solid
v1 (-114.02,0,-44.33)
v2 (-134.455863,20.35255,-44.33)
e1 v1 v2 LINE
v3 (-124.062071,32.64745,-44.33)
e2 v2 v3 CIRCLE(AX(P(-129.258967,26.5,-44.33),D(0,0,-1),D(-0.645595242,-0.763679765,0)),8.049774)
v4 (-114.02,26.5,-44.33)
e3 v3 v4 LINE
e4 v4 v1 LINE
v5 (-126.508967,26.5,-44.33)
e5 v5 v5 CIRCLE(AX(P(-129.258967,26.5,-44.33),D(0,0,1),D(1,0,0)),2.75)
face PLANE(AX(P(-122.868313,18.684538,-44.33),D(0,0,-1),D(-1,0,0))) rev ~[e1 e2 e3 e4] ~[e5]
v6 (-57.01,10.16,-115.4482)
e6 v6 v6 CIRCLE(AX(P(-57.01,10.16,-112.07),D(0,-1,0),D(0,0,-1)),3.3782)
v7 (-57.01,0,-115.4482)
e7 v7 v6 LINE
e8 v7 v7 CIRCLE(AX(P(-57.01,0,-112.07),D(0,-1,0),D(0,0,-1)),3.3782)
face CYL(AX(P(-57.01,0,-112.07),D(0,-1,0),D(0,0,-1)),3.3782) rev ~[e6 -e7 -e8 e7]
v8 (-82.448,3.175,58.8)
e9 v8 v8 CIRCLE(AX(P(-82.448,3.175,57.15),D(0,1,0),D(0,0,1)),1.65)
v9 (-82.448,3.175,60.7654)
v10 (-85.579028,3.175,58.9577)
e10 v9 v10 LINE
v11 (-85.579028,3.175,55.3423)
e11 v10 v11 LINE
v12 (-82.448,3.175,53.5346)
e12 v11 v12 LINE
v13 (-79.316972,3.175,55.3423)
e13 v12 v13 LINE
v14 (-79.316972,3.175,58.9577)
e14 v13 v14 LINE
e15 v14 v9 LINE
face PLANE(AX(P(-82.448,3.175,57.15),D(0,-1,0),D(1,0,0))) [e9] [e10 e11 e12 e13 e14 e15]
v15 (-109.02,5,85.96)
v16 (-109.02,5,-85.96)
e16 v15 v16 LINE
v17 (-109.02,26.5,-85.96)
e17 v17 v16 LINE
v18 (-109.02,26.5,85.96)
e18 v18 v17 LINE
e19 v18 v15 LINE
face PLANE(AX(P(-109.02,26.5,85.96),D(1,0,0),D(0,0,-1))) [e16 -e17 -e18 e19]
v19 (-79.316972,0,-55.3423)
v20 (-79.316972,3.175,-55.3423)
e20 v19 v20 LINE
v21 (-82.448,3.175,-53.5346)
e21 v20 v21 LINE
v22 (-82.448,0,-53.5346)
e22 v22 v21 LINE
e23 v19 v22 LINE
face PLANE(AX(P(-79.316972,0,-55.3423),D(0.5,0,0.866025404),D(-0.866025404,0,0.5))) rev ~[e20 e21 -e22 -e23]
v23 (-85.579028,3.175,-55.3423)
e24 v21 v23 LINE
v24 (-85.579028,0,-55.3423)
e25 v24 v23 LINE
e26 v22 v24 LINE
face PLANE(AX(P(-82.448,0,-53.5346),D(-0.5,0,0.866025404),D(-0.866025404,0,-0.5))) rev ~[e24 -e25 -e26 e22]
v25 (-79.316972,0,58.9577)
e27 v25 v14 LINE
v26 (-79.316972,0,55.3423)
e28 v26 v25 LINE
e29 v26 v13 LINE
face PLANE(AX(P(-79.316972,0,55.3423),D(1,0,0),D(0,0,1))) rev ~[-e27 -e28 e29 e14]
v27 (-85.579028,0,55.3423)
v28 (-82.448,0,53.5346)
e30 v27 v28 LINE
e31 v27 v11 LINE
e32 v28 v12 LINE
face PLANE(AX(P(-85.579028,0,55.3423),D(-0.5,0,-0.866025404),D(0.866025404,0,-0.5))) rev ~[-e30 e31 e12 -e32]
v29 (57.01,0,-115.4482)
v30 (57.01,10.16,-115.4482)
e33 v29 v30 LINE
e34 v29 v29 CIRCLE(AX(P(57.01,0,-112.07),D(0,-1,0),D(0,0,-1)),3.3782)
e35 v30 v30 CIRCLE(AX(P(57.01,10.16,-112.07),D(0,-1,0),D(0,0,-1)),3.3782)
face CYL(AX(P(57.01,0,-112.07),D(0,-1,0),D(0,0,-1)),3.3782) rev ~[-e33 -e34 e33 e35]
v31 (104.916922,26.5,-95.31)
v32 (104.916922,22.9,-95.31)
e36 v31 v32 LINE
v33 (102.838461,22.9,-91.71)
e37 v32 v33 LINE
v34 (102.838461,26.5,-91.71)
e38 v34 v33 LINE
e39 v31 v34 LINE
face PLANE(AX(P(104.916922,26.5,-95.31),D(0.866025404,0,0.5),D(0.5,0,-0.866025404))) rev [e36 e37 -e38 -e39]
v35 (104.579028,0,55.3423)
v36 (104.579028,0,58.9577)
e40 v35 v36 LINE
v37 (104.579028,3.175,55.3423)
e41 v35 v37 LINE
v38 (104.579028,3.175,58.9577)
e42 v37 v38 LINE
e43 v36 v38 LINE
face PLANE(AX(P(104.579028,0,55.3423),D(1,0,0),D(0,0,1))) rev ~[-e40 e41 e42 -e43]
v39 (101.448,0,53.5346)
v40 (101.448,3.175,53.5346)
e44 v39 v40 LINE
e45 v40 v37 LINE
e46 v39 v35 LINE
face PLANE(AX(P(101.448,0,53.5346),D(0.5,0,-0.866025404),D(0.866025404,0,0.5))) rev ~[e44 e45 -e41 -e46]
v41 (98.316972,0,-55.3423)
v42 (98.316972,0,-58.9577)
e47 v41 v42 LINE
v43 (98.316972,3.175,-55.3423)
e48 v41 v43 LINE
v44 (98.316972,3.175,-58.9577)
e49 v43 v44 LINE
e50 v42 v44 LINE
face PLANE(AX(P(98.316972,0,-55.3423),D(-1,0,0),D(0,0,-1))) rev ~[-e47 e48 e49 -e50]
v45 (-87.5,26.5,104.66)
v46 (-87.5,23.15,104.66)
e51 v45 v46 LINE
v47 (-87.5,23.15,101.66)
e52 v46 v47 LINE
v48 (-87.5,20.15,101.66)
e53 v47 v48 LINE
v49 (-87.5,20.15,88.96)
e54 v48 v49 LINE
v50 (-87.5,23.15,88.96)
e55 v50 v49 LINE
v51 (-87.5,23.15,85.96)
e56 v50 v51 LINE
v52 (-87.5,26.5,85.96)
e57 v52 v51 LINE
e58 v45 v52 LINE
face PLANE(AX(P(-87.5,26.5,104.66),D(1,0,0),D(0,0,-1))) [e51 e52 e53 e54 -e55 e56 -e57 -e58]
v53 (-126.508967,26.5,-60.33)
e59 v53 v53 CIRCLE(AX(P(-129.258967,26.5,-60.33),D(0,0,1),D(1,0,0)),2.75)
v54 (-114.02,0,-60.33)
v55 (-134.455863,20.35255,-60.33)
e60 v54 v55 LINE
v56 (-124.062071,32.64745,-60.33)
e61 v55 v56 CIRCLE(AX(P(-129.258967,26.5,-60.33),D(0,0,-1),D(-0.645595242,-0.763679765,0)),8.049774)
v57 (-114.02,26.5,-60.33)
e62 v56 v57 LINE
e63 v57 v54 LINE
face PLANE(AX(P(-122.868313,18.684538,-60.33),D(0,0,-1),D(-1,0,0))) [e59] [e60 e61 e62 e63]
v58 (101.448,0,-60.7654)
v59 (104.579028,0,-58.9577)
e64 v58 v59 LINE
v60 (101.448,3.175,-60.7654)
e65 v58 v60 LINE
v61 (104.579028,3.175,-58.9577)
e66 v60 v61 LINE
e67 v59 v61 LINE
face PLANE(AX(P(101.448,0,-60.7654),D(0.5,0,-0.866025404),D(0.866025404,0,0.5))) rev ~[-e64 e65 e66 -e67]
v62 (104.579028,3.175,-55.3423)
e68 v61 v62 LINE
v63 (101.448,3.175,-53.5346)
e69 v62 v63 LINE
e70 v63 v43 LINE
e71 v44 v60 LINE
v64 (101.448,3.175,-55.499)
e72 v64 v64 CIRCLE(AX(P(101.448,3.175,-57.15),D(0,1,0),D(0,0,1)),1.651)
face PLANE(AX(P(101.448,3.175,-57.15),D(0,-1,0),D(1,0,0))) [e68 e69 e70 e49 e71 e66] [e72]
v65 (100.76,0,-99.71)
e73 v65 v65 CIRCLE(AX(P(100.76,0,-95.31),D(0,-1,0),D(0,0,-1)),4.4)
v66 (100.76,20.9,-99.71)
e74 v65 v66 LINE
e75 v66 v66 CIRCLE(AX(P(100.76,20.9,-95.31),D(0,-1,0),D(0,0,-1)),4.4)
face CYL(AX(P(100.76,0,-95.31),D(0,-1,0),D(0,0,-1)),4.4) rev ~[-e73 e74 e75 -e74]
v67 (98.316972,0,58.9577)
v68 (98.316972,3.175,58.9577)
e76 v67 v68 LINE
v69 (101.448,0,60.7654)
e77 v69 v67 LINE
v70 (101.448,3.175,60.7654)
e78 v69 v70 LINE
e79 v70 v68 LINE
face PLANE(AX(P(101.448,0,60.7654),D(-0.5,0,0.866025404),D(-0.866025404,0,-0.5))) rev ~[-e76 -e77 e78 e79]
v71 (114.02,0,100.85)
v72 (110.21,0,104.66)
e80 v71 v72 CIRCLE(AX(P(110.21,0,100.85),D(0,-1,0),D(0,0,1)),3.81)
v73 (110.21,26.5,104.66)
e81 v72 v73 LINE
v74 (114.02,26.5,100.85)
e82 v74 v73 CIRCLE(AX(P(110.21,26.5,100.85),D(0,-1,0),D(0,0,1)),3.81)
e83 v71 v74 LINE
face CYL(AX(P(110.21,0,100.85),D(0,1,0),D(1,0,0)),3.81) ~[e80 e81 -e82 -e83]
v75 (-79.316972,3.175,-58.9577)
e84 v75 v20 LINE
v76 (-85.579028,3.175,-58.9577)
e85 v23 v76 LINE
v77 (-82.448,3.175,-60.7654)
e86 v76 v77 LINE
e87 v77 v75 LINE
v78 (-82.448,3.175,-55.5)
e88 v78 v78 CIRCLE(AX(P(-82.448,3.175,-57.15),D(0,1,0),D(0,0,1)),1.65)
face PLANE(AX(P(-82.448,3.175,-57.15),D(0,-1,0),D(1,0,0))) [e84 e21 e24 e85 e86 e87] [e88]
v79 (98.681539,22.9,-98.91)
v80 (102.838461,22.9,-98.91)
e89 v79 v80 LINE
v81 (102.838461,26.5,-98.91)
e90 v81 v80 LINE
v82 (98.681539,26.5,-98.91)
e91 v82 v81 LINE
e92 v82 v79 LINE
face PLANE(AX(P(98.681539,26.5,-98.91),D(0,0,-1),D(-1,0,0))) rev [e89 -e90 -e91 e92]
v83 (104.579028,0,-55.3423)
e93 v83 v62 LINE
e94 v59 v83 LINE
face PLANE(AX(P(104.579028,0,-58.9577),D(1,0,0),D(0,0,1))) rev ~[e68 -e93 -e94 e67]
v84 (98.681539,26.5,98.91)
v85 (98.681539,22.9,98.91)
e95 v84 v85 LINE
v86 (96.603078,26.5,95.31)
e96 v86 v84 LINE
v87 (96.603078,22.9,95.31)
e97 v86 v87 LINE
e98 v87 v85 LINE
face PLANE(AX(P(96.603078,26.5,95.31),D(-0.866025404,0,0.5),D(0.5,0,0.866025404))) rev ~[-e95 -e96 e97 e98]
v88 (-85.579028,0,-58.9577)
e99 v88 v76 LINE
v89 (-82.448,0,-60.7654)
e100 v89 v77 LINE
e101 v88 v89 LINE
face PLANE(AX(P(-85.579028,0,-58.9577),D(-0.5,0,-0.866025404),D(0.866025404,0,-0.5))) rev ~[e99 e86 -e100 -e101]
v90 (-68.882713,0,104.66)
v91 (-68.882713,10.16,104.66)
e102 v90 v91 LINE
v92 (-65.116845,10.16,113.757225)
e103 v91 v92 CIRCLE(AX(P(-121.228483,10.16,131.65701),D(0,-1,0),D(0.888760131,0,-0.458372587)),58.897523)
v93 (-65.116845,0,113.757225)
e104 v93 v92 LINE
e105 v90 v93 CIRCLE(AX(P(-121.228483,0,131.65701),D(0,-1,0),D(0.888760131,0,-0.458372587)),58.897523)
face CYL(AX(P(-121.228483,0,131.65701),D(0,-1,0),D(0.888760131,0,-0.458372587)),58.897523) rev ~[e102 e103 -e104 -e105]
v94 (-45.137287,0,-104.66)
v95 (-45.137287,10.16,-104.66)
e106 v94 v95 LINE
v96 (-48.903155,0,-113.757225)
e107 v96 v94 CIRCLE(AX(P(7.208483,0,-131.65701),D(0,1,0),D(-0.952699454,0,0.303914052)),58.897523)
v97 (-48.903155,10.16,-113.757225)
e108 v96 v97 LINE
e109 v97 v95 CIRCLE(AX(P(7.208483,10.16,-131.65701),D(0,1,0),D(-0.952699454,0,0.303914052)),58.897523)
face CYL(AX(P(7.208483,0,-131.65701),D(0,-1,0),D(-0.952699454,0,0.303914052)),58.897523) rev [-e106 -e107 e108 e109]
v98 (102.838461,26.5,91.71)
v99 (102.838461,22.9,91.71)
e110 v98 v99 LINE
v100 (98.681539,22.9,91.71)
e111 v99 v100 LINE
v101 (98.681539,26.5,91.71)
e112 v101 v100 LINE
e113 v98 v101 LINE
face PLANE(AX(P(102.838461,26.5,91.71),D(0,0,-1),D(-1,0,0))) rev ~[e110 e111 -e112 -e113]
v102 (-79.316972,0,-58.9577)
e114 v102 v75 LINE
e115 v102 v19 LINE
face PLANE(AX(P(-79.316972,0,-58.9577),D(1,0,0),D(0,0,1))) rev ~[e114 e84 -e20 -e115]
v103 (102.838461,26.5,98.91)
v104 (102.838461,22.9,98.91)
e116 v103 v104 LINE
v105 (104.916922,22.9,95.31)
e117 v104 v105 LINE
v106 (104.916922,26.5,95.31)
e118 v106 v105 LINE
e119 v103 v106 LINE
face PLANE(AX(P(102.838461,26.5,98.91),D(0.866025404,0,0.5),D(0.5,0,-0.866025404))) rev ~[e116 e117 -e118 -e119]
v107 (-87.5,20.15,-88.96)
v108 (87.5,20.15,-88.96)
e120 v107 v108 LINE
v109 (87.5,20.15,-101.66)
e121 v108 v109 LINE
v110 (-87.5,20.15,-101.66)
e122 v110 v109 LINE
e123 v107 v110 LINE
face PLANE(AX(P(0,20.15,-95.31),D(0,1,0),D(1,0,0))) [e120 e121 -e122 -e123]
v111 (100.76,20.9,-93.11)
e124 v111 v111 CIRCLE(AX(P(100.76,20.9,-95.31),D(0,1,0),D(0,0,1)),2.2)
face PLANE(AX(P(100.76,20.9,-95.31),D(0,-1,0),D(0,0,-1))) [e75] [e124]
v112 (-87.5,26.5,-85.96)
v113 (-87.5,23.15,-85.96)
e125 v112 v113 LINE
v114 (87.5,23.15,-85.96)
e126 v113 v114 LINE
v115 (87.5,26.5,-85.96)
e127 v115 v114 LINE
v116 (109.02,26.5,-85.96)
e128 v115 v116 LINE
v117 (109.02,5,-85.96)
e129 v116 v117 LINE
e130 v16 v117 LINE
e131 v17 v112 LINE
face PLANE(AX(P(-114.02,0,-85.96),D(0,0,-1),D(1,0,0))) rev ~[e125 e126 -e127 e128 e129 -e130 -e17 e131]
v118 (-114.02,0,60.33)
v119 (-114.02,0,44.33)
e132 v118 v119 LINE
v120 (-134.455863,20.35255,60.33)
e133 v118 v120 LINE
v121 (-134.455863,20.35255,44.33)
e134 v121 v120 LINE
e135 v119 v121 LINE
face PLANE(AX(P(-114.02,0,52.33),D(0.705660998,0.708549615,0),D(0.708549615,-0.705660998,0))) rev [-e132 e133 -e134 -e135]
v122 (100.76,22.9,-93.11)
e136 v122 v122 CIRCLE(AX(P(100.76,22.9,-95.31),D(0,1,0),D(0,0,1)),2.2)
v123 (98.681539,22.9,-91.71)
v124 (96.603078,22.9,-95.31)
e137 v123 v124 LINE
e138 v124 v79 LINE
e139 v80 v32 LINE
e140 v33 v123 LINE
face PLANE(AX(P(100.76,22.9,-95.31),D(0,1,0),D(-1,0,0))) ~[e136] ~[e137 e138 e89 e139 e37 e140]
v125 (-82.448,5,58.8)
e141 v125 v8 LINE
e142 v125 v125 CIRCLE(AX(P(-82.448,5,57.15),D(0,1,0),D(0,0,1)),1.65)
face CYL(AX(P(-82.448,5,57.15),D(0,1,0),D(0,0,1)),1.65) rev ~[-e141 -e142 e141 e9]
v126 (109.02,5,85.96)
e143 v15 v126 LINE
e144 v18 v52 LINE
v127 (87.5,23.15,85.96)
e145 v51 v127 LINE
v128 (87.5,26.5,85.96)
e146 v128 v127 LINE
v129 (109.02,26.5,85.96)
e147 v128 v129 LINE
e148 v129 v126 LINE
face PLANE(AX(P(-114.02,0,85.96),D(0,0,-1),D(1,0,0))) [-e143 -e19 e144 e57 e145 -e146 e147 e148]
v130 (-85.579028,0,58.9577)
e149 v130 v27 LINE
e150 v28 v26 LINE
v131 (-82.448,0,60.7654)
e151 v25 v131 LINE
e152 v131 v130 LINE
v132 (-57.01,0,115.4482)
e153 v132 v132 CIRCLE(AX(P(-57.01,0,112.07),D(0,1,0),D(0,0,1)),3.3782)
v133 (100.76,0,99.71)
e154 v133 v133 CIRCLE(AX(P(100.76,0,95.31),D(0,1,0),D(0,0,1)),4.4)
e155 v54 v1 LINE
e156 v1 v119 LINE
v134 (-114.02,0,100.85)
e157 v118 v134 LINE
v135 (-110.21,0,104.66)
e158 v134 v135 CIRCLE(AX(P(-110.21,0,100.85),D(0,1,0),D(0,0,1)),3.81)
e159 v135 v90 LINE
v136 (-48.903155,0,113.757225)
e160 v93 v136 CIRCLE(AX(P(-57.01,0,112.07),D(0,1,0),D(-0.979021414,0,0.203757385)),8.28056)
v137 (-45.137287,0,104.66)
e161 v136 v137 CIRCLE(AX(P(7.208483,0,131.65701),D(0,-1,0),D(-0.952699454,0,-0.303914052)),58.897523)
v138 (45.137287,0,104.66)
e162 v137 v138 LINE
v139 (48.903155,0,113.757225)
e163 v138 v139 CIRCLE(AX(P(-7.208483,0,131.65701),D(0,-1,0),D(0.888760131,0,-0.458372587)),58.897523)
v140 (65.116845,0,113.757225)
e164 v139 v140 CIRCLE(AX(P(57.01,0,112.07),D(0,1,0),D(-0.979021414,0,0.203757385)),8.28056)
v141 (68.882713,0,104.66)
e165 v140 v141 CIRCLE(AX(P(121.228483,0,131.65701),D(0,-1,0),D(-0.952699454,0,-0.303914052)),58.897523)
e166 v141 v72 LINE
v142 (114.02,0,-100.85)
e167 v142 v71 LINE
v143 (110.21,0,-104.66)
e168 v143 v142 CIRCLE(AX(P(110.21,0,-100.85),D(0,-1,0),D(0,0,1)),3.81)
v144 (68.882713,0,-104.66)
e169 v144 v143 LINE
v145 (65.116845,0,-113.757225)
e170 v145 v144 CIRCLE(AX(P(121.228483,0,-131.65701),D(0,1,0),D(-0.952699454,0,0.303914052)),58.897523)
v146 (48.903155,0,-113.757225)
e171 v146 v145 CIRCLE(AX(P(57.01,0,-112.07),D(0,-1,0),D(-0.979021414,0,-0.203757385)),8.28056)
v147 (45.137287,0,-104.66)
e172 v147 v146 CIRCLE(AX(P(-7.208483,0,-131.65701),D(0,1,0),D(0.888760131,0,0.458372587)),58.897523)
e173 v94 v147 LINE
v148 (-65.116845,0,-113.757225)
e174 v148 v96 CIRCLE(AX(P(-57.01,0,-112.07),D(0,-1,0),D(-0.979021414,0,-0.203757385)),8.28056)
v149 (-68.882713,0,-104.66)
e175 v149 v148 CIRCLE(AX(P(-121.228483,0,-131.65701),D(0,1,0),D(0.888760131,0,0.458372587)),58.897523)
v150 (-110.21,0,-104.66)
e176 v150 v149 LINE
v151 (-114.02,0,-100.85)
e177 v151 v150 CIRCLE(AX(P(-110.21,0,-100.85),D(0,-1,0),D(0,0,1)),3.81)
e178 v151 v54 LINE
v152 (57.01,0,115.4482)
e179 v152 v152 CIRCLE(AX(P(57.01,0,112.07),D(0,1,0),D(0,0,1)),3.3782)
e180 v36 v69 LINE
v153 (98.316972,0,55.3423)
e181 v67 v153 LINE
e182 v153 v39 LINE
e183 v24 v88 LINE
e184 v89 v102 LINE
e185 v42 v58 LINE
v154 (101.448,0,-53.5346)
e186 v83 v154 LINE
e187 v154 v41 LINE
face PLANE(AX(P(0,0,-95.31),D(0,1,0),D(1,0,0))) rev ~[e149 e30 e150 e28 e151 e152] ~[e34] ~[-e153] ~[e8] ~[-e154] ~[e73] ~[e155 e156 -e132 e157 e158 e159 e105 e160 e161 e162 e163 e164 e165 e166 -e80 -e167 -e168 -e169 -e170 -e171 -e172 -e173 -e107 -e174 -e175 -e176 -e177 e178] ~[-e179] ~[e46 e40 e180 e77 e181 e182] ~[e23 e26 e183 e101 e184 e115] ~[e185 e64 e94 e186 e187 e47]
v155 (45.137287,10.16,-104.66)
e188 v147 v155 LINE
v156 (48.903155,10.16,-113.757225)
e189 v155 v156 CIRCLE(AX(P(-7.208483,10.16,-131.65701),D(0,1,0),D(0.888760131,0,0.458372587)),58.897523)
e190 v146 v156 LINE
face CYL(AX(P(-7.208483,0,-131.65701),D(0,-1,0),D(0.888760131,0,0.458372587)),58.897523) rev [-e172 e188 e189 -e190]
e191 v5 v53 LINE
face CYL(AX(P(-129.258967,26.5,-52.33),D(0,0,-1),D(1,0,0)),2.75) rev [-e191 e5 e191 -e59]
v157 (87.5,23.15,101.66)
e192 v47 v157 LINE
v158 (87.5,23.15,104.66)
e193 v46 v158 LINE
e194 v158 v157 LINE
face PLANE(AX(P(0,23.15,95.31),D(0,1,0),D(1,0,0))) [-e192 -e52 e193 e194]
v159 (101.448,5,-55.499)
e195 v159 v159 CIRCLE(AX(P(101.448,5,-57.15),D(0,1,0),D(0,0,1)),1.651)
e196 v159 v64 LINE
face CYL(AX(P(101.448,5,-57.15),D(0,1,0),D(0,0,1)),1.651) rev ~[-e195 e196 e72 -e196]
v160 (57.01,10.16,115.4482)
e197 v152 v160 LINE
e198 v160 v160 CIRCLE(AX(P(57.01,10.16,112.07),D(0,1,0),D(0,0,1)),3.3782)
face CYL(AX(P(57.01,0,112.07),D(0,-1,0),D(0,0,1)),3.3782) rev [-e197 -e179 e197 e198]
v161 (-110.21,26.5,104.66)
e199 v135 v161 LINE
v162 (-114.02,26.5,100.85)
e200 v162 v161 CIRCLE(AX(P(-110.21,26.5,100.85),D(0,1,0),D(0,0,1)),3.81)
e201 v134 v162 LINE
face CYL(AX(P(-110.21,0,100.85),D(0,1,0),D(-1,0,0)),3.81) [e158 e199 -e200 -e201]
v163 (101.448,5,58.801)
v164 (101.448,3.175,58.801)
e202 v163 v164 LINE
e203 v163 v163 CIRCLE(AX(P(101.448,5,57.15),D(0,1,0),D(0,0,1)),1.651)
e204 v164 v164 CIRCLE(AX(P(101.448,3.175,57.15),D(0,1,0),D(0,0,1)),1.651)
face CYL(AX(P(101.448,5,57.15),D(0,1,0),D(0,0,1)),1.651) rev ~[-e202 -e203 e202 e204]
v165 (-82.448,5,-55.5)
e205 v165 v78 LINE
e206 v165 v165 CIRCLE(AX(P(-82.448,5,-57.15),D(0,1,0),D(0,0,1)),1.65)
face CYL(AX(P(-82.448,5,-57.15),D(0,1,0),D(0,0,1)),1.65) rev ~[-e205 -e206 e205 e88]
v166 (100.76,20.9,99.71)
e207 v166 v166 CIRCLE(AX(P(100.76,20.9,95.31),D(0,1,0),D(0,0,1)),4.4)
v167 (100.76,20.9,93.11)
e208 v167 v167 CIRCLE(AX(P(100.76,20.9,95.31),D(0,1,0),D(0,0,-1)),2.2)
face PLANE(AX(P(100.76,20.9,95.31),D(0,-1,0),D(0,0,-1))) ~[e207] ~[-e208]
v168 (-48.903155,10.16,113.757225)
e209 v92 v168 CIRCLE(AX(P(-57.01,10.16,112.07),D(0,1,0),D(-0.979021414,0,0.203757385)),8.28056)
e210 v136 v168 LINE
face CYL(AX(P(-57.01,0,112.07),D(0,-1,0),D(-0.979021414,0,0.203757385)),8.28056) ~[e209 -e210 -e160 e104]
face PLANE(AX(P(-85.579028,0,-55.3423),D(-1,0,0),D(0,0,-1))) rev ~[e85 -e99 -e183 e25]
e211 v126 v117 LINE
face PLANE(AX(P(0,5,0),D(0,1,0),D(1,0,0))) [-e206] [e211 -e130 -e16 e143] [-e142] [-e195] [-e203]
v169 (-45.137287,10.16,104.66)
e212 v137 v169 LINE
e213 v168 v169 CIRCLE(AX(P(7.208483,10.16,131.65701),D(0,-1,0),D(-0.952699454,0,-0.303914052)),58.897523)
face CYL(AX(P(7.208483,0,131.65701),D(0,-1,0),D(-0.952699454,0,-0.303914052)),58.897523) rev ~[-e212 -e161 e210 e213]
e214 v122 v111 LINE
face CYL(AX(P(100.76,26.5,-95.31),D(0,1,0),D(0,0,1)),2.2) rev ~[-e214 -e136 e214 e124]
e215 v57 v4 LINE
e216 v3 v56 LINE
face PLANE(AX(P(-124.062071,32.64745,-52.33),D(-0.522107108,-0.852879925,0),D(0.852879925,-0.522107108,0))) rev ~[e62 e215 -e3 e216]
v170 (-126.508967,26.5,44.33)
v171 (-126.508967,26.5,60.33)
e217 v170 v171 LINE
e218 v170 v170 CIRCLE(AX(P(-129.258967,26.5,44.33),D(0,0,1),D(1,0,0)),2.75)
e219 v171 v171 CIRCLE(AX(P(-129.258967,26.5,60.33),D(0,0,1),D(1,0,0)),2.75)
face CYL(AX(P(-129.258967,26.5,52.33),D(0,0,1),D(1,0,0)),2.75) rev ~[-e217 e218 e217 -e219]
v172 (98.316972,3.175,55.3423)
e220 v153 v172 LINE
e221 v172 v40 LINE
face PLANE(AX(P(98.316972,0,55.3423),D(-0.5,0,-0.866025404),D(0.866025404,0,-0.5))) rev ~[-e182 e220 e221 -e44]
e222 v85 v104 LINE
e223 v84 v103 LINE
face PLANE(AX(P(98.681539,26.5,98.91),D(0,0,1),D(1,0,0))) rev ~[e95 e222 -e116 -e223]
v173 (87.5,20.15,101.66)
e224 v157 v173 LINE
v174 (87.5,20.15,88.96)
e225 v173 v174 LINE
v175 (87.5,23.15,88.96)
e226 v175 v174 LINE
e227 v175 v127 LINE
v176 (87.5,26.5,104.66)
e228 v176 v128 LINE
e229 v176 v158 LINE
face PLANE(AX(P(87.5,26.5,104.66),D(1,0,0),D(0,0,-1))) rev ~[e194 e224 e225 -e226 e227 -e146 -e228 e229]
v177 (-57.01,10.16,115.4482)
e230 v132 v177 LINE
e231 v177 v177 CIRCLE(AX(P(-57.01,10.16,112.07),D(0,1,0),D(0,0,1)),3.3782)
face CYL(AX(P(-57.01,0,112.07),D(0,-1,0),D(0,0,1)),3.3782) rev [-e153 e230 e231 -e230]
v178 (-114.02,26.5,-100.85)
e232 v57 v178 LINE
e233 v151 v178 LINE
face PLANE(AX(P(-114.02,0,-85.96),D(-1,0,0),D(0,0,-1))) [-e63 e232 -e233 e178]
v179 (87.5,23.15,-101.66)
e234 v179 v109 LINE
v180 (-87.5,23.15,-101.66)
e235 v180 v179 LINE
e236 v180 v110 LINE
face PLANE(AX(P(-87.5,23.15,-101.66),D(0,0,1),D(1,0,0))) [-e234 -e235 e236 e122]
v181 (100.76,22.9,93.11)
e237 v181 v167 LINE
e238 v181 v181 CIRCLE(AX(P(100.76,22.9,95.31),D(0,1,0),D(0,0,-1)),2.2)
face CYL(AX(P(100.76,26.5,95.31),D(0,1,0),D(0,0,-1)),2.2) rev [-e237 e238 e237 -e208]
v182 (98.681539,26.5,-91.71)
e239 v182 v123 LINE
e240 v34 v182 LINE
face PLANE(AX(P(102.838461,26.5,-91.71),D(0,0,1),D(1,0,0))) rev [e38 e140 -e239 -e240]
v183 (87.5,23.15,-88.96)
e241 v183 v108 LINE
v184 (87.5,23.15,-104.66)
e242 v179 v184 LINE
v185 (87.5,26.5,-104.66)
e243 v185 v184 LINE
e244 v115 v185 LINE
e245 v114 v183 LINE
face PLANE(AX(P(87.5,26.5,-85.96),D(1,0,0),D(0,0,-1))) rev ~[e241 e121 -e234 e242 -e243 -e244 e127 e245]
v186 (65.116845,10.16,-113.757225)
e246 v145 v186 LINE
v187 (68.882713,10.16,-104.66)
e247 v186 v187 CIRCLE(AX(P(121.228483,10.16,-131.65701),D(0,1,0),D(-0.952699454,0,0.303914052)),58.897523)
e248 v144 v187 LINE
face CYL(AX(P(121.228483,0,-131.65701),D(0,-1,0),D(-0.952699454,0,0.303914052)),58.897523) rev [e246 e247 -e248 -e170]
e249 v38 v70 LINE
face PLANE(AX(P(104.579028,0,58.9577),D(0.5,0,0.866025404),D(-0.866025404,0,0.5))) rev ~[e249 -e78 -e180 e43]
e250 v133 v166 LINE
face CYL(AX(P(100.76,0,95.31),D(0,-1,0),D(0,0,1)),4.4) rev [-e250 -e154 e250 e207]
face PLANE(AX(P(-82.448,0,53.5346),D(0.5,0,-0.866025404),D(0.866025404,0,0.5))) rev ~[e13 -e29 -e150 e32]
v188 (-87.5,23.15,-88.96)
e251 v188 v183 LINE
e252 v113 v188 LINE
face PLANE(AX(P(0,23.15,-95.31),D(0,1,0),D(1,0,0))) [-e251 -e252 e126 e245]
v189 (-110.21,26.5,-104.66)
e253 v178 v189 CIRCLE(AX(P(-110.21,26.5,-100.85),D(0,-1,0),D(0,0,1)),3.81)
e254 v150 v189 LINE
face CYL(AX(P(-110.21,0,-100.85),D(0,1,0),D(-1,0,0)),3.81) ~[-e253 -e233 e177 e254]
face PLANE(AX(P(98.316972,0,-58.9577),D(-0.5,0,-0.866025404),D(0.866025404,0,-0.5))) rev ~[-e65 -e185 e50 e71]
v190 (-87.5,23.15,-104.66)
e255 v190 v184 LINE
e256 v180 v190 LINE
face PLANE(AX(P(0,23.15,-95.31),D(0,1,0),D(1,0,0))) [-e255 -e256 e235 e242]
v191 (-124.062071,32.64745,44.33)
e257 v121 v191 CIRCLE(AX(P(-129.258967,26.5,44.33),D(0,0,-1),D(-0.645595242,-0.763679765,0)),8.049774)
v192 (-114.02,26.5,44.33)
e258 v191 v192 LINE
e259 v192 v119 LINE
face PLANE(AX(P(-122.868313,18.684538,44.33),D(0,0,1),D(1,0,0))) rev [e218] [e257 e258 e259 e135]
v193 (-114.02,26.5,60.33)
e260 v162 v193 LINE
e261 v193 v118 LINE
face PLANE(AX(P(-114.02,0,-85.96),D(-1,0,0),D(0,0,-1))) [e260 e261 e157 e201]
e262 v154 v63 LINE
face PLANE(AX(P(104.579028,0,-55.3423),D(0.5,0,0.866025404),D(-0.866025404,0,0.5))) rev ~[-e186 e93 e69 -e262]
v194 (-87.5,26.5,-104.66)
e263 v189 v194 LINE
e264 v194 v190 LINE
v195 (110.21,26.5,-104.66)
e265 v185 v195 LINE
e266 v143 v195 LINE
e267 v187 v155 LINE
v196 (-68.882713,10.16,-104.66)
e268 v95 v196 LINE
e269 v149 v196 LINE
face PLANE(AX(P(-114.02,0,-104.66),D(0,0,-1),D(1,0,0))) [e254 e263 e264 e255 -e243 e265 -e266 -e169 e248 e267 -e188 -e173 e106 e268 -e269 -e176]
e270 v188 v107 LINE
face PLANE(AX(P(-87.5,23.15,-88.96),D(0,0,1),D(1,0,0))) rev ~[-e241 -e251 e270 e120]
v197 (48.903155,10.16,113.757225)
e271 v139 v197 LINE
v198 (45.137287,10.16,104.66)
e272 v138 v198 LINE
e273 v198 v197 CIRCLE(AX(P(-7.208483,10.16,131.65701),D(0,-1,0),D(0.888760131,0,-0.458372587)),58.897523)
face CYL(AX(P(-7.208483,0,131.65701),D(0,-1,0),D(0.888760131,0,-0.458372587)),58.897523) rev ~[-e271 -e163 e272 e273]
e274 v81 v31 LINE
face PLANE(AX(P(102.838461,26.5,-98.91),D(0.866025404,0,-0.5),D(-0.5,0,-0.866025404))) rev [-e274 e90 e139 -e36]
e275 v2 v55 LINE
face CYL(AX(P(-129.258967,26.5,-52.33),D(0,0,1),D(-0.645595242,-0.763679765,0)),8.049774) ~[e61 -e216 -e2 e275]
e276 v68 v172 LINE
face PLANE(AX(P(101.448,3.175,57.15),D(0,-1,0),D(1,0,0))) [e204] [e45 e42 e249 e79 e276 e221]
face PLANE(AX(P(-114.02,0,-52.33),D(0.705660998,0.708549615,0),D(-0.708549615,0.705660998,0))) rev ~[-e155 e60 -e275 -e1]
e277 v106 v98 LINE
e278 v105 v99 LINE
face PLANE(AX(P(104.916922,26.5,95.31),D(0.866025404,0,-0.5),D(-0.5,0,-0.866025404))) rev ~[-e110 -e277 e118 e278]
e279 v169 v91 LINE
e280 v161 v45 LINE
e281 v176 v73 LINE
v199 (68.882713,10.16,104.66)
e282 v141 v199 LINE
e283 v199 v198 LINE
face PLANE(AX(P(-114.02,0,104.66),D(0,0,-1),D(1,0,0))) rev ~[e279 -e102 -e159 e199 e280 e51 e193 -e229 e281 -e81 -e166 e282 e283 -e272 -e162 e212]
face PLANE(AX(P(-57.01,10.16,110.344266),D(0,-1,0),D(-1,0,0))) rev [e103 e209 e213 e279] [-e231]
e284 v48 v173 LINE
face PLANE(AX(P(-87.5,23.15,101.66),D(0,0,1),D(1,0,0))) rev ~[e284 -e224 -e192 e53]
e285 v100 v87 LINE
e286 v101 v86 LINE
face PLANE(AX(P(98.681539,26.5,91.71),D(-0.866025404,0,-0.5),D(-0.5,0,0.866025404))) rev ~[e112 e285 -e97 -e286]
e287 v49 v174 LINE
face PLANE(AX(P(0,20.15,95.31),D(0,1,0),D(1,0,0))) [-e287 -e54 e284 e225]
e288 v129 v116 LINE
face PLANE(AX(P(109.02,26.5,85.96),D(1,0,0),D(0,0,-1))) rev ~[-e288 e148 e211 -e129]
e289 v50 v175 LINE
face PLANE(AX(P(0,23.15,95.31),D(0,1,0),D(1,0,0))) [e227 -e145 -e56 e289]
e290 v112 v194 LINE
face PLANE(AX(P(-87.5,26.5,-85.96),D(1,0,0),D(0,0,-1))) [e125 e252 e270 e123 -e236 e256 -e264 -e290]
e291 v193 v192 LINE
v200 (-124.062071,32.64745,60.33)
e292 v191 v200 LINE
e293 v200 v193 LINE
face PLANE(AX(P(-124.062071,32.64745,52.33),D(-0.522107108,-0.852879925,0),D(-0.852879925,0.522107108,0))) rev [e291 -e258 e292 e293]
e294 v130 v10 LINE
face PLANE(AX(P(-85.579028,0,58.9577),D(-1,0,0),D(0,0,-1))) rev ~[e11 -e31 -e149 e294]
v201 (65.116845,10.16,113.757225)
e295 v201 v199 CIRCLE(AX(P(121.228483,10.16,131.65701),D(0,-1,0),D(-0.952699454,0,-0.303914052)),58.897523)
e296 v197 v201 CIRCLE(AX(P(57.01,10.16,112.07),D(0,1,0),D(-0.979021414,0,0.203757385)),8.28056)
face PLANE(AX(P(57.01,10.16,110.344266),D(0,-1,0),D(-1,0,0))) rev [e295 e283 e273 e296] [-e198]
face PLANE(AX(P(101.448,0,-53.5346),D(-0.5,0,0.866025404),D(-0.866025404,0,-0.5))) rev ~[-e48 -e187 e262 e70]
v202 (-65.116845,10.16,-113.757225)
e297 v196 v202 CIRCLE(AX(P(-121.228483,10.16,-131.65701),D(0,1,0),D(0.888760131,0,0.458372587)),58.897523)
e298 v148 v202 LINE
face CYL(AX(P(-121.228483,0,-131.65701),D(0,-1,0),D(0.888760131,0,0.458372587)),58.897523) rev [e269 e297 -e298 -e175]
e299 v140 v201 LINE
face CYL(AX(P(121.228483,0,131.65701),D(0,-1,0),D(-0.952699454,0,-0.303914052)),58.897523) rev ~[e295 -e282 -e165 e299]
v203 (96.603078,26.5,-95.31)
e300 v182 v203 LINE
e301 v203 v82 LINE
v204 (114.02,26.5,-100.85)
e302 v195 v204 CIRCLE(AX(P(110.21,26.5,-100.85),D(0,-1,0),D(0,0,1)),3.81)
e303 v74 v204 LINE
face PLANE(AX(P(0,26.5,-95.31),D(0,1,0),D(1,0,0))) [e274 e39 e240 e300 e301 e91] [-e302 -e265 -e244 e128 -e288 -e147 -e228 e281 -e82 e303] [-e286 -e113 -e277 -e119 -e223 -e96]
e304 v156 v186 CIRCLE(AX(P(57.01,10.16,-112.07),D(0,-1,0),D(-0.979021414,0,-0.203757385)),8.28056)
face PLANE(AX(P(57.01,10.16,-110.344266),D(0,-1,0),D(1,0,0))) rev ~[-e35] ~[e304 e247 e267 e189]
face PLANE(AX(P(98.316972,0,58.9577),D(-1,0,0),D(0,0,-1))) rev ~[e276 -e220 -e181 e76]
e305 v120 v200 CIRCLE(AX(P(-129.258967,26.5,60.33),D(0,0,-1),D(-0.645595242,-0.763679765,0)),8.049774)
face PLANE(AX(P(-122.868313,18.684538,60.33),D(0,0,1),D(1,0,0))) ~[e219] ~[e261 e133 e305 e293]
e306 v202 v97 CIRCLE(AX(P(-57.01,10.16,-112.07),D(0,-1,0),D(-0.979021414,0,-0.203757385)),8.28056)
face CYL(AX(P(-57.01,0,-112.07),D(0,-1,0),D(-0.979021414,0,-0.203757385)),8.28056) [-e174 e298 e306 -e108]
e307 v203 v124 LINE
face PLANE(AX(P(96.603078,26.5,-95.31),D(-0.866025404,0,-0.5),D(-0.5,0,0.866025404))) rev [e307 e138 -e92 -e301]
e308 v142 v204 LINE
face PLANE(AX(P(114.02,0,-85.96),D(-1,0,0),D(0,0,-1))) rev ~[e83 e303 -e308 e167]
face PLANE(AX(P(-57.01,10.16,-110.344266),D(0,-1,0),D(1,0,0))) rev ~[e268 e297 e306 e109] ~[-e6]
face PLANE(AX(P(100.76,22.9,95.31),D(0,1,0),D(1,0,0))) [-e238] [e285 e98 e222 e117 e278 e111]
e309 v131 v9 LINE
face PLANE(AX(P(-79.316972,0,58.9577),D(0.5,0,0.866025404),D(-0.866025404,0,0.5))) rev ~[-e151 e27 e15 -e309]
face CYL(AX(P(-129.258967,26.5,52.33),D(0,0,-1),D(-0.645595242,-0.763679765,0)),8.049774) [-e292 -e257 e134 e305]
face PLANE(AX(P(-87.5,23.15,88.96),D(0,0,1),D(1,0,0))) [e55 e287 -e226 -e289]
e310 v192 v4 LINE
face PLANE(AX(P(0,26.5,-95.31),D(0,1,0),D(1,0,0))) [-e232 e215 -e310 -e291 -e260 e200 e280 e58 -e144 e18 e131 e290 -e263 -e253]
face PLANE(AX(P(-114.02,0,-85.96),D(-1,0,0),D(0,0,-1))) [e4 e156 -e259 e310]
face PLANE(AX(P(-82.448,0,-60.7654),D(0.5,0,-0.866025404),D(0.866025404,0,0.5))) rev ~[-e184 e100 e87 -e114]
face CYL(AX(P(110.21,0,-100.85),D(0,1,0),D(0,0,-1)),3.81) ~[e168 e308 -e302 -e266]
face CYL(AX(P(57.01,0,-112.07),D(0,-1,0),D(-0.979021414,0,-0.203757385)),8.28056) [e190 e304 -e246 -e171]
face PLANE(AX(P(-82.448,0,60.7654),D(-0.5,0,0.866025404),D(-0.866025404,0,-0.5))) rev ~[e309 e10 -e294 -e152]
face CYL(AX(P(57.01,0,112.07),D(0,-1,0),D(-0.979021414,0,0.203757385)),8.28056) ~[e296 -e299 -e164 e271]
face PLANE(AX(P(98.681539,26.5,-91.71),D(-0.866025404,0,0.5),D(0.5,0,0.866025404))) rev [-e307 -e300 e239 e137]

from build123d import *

# Parameters (mm, degrees)
SKETCH18_W           = 228.04
SKETCH18_H           = 171.92
BOSS_EXTRUDE6_DEPTH  = 26.5
SKETCH20_W           = 218.04
SKETCH20_H           = 171.92
CUT_EXTRUDE6_DEPTH   = 21.5
SKETCH22_W           = 228.04
SKETCH22_H           = 18.7
BOSS_EXTRUDE7_DEPTH  = 26.5
SKETCH23_W           = 228.04
SKETCH23_H           = 18.7
BOSS_EXTRUDE8_DEPTH  = 26.5
SKETCH24_W           = 175
SKETCH24_H           = 18.7
CUT_EXTRUDE7_DEPTH   = 3.35
SKETCH25_W           = 175
SKETCH25_H           = 18.7
CUT_EXTRUDE8_DEPTH   = 3.35
SKETCH27_W           = 175
SKETCH27_H           = 12.7
CUT_EXTRUDE9_DEPTH   = 3
SKETCH28_W           = 175
SKETCH28_H           = 12.7
CUT_EXTRUDE10_DEPTH  = 3
SKETCH31_R           = 1.65
SKETCH31_R_2         = 1.651
CUT_EXTRUDE15_DEPTH  = 1.825
CUT_EXTRUDE17_DEPTH  = 3.175
SKETCH38_R           = 2.75
BOSS_EXTRUDE12_DEPTH = 8
SKETCH39_R           = 2.2
CUT_EXTRUDE18_DEPTH  = 26.5
SKETCH40_R           = 4.4
CUT_EXTRUDE19_DEPTH  = 20.9
FILLET1_R            = 3.81
CUT_EXTRUDE20_DEPTH  = 3.6
SKETCH47_R           = 3.3782
BOSS_EXTRUDE14_DEPTH = 10.16


with BuildPart() as part:
    # Sketch18 → Boss-Extrude6 (new body)
    with BuildSketch(Plane(origin=(0, 0, 0), x_dir=(1, 0, 0), z_dir=(0, 1, 0))):
        Rectangle(SKETCH18_W, SKETCH18_H)
    extrude(amount=BOSS_EXTRUDE6_DEPTH)

    # Sketch20 → Cut-Extrude6 (cut)
    with BuildSketch(Plane(origin=(0, 26.5, 0), x_dir=(1, 0, 0), z_dir=(0, 1, 0))):
        Rectangle(SKETCH20_W, SKETCH20_H)
    extrude(amount=-CUT_EXTRUDE6_DEPTH, mode=Mode.SUBTRACT)

    # Sketch22 → Boss-Extrude7 (add)
    with BuildSketch(Plane(origin=(0, 0, 0), x_dir=(1, 0, 0), z_dir=(0, 1, 0))):
        with Locations((0, -95.31)):
            Rectangle(SKETCH22_W, SKETCH22_H)
    extrude(amount=BOSS_EXTRUDE7_DEPTH)

    # Sketch23 → Boss-Extrude8 (add)
    with BuildSketch(Plane(origin=(0, 0, 0), x_dir=(1, 0, 0), z_dir=(0, 1, 0))):
        with Locations((0, 95.31)):
            Rectangle(SKETCH23_W, SKETCH23_H)
    extrude(amount=BOSS_EXTRUDE8_DEPTH)

    # Sketch24 → Cut-Extrude7 (cut)
    with BuildSketch(Plane(origin=(0, 26.5, 0), x_dir=(1, 0, 0), z_dir=(0, 1, 0))):
        with Locations((0, 95.31)):
            Rectangle(SKETCH24_W, SKETCH24_H)
    extrude(amount=-CUT_EXTRUDE7_DEPTH, mode=Mode.SUBTRACT)

    # Sketch25 → Cut-Extrude8 (cut)
    with BuildSketch(Plane(origin=(0, 26.5, 0), x_dir=(1, 0, 0), z_dir=(0, 1, 0))):
        with Locations((0, -95.31)):
            Rectangle(SKETCH25_W, SKETCH25_H)
    extrude(amount=-CUT_EXTRUDE8_DEPTH, mode=Mode.SUBTRACT)

    # Sketch27 → Cut-Extrude9 (cut)
    with BuildSketch(Plane(origin=(0, 23.15, 0), x_dir=(1, 0, 0), z_dir=(0, 1, 0))):
        with Locations((0, -95.31)):
            Rectangle(SKETCH27_W, SKETCH27_H)
    extrude(amount=-CUT_EXTRUDE9_DEPTH, mode=Mode.SUBTRACT)

    # Sketch28 → Cut-Extrude10 (cut)
    with BuildSketch(Plane(origin=(0, 23.15, 0), x_dir=(1, 0, 0), z_dir=(0, 1, 0))):
        with Locations((0, 95.31)):
            Rectangle(SKETCH28_W, SKETCH28_H)
    extrude(amount=-CUT_EXTRUDE10_DEPTH, mode=Mode.SUBTRACT)

    # Sketch31 → Cut-Extrude15 (cut)
    with BuildSketch(Plane(origin=(0, 5, 0), x_dir=(1, 0, 0), z_dir=(0, 1, 0))):
        with Locations((-82.448, 57.15)):
            Circle(SKETCH31_R)
        with Locations((101.448, 57.15)):
            Circle(SKETCH31_R_2)
        with Locations((101.448, -57.15)):
            Circle(SKETCH31_R_2)
        with Locations((-82.448, -57.15)):
            Circle(SKETCH31_R)
    extrude(amount=-CUT_EXTRUDE15_DEPTH, mode=Mode.SUBTRACT)

    # Sketch33 → Cut-Extrude17 (cut)
    with BuildSketch(Plane.XZ):
        Polygon((-79.316971755, -58.9577), (-79.316971755, -55.3423), (-82.448, -53.5346), (-85.579028245, -55.3423), (-85.579028245, -58.9577), (-82.448, -60.7654), align=None)
        Polygon((104.579028245, -58.9577), (104.579028245, -55.3423), (101.448, -53.5346), (98.316971755, -55.3423), (98.316971755, -58.9577), (101.448, -60.7654), align=None)
        Polygon((-79.316971755, 58.9577), (-82.448, 60.7654), (-85.579028245, 58.9577), (-85.579028245, 55.3423), (-82.448, 53.5346), (-79.316971755, 55.3423), align=None)
        Polygon((98.316971755, 58.9577), (98.316971755, 55.3423), (101.448, 53.5346), (104.579028245, 55.3423), (104.579028245, 58.9577), (101.448, 60.7654), align=None)
    extrude(amount=-CUT_EXTRUDE17_DEPTH, mode=Mode.SUBTRACT)

    # Sketch38 → Boss-Extrude12 (add, symmetric)
    with BuildSketch(Plane.XY.offset(-52.33)):
        with BuildLine():
            Line((-114.02, 0), (-134.455863104, 20.352550116))
            ThreePointArc((-134.455863104, 20.352550116), (-135.406416884, 31.696896104), (-124.062070896, 32.647449884))
            Line((-124.062070896, 32.647449884), (-114.02, 26.5))
            Line((-114.02, 26.5), (-114.02, 0))
        make_face()
        with Locations((-129.258967, 26.5)):
            Circle(SKETCH38_R, mode=Mode.SUBTRACT)
    boss_extrude12 = extrude(amount=BOSS_EXTRUDE12_DEPTH, both=True)

    # Mirror2: Boss-Extrude12 across plane
    add(boss_extrude12.mirror(Plane.XY))

    # Sketch39 → Cut-Extrude18 (cut)
    with BuildSketch(Plane(origin=(0, 26.5, 0), x_dir=(1, 0, 0), z_dir=(0, 1, 0))):
        with Locations((100.76, 95.31)):
            Circle(SKETCH39_R)
    cut_extrude18 = extrude(amount=-CUT_EXTRUDE18_DEPTH, mode=Mode.SUBTRACT)

    # Sketch40 → Cut-Extrude19 (cut)
    with BuildSketch(Plane.XZ):
        with Locations((100.76, -95.31)):
            Circle(SKETCH40_R)
    cut_extrude19 = extrude(amount=-CUT_EXTRUDE19_DEPTH, mode=Mode.SUBTRACT)

    # Mirror3: Cut-Extrude18 across plane
    add(cut_extrude18.mirror(Plane.XY), mode=Mode.SUBTRACT)

    # Mirror4: Cut-Extrude19 across plane
    add(cut_extrude19.mirror(Plane.XY), mode=Mode.SUBTRACT)

    # Fillet1
    fillet1_edges = [part.edges().sort_by_distance(p)[0] for p in [
        (114.02, 13.25, 104.66),
        (-114.02, 13.25, 104.66),
        (-114.02, 13.25, -104.66),
        (114.02, 13.25, -104.66),
    ]]
    fillet(fillet1_edges, radius=FILLET1_R)

    # Sketch41 → Cut-Extrude20 (cut)
    with BuildSketch(Plane(origin=(0, 26.5, 0), x_dir=(1, 0, 0), z_dir=(0, 1, 0))):
        Polygon((98.681539031, -91.71), (96.603078062, -95.31), (98.681539031, -98.91), (102.838460969, -98.91), (104.916921938, -95.31), (102.838460969, -91.71), align=None)
    cut_extrude20 = extrude(amount=-CUT_EXTRUDE20_DEPTH, mode=Mode.SUBTRACT)

    # Mirror5: Cut-Extrude20 across plane
    add(cut_extrude20.mirror(Plane.XY), mode=Mode.SUBTRACT)

    # Sketch47 → Boss-Extrude14 (add)
    # profile 1 of 2: a face of its own
    with BuildSketch(Plane.XZ):
        with BuildLine():
            ThreePointArc((45.13728714, -104.66), (47.210651626, -109.12978233), (48.903154853, -113.757225166))
            ThreePointArc((48.903154853, -113.757225166), (57.01, -120.350559583), (65.116845147, -113.757225166))
            ThreePointArc((65.116845147, -113.757225166), (66.809348374, -109.12978233), (68.88271286, -104.66))
            Line((68.88271286, -104.66), (57.122870876, -104.66))
            Line((57.122870876, -104.66), (45.13728714, -104.66))
        make_face()
        with Locations((57.01, -112.07)):
            Circle(SKETCH47_R, mode=Mode.SUBTRACT)
    # profile 2 of 2: a face of its own
    with BuildSketch(Plane.XZ):
        with BuildLine():
            ThreePointArc((-48.903154853, -113.757225166), (-47.210651626, -109.12978233), (-45.13728714, -104.66))
            Line((-45.13728714, -104.66), (-57.122870876, -104.66))
            Line((-57.122870876, -104.66), (-68.88271286, -104.66))
            ThreePointArc((-68.88271286, -104.66), (-66.809348374, -109.12978233), (-65.116845147, -113.757225166))
            ThreePointArc((-65.116845147, -113.757225166), (-57.01, -120.350559583), (-48.903154853, -113.757225166))
        make_face()
        with Locations((-57.01, -112.07)):
            Circle(SKETCH47_R, mode=Mode.SUBTRACT)
    boss_extrude14 = extrude(amount=-BOSS_EXTRUDE14_DEPTH)

    # Mirror6: Boss-Extrude14 across plane
    add(boss_extrude14.mirror(Plane.XY))


solid = part.part
